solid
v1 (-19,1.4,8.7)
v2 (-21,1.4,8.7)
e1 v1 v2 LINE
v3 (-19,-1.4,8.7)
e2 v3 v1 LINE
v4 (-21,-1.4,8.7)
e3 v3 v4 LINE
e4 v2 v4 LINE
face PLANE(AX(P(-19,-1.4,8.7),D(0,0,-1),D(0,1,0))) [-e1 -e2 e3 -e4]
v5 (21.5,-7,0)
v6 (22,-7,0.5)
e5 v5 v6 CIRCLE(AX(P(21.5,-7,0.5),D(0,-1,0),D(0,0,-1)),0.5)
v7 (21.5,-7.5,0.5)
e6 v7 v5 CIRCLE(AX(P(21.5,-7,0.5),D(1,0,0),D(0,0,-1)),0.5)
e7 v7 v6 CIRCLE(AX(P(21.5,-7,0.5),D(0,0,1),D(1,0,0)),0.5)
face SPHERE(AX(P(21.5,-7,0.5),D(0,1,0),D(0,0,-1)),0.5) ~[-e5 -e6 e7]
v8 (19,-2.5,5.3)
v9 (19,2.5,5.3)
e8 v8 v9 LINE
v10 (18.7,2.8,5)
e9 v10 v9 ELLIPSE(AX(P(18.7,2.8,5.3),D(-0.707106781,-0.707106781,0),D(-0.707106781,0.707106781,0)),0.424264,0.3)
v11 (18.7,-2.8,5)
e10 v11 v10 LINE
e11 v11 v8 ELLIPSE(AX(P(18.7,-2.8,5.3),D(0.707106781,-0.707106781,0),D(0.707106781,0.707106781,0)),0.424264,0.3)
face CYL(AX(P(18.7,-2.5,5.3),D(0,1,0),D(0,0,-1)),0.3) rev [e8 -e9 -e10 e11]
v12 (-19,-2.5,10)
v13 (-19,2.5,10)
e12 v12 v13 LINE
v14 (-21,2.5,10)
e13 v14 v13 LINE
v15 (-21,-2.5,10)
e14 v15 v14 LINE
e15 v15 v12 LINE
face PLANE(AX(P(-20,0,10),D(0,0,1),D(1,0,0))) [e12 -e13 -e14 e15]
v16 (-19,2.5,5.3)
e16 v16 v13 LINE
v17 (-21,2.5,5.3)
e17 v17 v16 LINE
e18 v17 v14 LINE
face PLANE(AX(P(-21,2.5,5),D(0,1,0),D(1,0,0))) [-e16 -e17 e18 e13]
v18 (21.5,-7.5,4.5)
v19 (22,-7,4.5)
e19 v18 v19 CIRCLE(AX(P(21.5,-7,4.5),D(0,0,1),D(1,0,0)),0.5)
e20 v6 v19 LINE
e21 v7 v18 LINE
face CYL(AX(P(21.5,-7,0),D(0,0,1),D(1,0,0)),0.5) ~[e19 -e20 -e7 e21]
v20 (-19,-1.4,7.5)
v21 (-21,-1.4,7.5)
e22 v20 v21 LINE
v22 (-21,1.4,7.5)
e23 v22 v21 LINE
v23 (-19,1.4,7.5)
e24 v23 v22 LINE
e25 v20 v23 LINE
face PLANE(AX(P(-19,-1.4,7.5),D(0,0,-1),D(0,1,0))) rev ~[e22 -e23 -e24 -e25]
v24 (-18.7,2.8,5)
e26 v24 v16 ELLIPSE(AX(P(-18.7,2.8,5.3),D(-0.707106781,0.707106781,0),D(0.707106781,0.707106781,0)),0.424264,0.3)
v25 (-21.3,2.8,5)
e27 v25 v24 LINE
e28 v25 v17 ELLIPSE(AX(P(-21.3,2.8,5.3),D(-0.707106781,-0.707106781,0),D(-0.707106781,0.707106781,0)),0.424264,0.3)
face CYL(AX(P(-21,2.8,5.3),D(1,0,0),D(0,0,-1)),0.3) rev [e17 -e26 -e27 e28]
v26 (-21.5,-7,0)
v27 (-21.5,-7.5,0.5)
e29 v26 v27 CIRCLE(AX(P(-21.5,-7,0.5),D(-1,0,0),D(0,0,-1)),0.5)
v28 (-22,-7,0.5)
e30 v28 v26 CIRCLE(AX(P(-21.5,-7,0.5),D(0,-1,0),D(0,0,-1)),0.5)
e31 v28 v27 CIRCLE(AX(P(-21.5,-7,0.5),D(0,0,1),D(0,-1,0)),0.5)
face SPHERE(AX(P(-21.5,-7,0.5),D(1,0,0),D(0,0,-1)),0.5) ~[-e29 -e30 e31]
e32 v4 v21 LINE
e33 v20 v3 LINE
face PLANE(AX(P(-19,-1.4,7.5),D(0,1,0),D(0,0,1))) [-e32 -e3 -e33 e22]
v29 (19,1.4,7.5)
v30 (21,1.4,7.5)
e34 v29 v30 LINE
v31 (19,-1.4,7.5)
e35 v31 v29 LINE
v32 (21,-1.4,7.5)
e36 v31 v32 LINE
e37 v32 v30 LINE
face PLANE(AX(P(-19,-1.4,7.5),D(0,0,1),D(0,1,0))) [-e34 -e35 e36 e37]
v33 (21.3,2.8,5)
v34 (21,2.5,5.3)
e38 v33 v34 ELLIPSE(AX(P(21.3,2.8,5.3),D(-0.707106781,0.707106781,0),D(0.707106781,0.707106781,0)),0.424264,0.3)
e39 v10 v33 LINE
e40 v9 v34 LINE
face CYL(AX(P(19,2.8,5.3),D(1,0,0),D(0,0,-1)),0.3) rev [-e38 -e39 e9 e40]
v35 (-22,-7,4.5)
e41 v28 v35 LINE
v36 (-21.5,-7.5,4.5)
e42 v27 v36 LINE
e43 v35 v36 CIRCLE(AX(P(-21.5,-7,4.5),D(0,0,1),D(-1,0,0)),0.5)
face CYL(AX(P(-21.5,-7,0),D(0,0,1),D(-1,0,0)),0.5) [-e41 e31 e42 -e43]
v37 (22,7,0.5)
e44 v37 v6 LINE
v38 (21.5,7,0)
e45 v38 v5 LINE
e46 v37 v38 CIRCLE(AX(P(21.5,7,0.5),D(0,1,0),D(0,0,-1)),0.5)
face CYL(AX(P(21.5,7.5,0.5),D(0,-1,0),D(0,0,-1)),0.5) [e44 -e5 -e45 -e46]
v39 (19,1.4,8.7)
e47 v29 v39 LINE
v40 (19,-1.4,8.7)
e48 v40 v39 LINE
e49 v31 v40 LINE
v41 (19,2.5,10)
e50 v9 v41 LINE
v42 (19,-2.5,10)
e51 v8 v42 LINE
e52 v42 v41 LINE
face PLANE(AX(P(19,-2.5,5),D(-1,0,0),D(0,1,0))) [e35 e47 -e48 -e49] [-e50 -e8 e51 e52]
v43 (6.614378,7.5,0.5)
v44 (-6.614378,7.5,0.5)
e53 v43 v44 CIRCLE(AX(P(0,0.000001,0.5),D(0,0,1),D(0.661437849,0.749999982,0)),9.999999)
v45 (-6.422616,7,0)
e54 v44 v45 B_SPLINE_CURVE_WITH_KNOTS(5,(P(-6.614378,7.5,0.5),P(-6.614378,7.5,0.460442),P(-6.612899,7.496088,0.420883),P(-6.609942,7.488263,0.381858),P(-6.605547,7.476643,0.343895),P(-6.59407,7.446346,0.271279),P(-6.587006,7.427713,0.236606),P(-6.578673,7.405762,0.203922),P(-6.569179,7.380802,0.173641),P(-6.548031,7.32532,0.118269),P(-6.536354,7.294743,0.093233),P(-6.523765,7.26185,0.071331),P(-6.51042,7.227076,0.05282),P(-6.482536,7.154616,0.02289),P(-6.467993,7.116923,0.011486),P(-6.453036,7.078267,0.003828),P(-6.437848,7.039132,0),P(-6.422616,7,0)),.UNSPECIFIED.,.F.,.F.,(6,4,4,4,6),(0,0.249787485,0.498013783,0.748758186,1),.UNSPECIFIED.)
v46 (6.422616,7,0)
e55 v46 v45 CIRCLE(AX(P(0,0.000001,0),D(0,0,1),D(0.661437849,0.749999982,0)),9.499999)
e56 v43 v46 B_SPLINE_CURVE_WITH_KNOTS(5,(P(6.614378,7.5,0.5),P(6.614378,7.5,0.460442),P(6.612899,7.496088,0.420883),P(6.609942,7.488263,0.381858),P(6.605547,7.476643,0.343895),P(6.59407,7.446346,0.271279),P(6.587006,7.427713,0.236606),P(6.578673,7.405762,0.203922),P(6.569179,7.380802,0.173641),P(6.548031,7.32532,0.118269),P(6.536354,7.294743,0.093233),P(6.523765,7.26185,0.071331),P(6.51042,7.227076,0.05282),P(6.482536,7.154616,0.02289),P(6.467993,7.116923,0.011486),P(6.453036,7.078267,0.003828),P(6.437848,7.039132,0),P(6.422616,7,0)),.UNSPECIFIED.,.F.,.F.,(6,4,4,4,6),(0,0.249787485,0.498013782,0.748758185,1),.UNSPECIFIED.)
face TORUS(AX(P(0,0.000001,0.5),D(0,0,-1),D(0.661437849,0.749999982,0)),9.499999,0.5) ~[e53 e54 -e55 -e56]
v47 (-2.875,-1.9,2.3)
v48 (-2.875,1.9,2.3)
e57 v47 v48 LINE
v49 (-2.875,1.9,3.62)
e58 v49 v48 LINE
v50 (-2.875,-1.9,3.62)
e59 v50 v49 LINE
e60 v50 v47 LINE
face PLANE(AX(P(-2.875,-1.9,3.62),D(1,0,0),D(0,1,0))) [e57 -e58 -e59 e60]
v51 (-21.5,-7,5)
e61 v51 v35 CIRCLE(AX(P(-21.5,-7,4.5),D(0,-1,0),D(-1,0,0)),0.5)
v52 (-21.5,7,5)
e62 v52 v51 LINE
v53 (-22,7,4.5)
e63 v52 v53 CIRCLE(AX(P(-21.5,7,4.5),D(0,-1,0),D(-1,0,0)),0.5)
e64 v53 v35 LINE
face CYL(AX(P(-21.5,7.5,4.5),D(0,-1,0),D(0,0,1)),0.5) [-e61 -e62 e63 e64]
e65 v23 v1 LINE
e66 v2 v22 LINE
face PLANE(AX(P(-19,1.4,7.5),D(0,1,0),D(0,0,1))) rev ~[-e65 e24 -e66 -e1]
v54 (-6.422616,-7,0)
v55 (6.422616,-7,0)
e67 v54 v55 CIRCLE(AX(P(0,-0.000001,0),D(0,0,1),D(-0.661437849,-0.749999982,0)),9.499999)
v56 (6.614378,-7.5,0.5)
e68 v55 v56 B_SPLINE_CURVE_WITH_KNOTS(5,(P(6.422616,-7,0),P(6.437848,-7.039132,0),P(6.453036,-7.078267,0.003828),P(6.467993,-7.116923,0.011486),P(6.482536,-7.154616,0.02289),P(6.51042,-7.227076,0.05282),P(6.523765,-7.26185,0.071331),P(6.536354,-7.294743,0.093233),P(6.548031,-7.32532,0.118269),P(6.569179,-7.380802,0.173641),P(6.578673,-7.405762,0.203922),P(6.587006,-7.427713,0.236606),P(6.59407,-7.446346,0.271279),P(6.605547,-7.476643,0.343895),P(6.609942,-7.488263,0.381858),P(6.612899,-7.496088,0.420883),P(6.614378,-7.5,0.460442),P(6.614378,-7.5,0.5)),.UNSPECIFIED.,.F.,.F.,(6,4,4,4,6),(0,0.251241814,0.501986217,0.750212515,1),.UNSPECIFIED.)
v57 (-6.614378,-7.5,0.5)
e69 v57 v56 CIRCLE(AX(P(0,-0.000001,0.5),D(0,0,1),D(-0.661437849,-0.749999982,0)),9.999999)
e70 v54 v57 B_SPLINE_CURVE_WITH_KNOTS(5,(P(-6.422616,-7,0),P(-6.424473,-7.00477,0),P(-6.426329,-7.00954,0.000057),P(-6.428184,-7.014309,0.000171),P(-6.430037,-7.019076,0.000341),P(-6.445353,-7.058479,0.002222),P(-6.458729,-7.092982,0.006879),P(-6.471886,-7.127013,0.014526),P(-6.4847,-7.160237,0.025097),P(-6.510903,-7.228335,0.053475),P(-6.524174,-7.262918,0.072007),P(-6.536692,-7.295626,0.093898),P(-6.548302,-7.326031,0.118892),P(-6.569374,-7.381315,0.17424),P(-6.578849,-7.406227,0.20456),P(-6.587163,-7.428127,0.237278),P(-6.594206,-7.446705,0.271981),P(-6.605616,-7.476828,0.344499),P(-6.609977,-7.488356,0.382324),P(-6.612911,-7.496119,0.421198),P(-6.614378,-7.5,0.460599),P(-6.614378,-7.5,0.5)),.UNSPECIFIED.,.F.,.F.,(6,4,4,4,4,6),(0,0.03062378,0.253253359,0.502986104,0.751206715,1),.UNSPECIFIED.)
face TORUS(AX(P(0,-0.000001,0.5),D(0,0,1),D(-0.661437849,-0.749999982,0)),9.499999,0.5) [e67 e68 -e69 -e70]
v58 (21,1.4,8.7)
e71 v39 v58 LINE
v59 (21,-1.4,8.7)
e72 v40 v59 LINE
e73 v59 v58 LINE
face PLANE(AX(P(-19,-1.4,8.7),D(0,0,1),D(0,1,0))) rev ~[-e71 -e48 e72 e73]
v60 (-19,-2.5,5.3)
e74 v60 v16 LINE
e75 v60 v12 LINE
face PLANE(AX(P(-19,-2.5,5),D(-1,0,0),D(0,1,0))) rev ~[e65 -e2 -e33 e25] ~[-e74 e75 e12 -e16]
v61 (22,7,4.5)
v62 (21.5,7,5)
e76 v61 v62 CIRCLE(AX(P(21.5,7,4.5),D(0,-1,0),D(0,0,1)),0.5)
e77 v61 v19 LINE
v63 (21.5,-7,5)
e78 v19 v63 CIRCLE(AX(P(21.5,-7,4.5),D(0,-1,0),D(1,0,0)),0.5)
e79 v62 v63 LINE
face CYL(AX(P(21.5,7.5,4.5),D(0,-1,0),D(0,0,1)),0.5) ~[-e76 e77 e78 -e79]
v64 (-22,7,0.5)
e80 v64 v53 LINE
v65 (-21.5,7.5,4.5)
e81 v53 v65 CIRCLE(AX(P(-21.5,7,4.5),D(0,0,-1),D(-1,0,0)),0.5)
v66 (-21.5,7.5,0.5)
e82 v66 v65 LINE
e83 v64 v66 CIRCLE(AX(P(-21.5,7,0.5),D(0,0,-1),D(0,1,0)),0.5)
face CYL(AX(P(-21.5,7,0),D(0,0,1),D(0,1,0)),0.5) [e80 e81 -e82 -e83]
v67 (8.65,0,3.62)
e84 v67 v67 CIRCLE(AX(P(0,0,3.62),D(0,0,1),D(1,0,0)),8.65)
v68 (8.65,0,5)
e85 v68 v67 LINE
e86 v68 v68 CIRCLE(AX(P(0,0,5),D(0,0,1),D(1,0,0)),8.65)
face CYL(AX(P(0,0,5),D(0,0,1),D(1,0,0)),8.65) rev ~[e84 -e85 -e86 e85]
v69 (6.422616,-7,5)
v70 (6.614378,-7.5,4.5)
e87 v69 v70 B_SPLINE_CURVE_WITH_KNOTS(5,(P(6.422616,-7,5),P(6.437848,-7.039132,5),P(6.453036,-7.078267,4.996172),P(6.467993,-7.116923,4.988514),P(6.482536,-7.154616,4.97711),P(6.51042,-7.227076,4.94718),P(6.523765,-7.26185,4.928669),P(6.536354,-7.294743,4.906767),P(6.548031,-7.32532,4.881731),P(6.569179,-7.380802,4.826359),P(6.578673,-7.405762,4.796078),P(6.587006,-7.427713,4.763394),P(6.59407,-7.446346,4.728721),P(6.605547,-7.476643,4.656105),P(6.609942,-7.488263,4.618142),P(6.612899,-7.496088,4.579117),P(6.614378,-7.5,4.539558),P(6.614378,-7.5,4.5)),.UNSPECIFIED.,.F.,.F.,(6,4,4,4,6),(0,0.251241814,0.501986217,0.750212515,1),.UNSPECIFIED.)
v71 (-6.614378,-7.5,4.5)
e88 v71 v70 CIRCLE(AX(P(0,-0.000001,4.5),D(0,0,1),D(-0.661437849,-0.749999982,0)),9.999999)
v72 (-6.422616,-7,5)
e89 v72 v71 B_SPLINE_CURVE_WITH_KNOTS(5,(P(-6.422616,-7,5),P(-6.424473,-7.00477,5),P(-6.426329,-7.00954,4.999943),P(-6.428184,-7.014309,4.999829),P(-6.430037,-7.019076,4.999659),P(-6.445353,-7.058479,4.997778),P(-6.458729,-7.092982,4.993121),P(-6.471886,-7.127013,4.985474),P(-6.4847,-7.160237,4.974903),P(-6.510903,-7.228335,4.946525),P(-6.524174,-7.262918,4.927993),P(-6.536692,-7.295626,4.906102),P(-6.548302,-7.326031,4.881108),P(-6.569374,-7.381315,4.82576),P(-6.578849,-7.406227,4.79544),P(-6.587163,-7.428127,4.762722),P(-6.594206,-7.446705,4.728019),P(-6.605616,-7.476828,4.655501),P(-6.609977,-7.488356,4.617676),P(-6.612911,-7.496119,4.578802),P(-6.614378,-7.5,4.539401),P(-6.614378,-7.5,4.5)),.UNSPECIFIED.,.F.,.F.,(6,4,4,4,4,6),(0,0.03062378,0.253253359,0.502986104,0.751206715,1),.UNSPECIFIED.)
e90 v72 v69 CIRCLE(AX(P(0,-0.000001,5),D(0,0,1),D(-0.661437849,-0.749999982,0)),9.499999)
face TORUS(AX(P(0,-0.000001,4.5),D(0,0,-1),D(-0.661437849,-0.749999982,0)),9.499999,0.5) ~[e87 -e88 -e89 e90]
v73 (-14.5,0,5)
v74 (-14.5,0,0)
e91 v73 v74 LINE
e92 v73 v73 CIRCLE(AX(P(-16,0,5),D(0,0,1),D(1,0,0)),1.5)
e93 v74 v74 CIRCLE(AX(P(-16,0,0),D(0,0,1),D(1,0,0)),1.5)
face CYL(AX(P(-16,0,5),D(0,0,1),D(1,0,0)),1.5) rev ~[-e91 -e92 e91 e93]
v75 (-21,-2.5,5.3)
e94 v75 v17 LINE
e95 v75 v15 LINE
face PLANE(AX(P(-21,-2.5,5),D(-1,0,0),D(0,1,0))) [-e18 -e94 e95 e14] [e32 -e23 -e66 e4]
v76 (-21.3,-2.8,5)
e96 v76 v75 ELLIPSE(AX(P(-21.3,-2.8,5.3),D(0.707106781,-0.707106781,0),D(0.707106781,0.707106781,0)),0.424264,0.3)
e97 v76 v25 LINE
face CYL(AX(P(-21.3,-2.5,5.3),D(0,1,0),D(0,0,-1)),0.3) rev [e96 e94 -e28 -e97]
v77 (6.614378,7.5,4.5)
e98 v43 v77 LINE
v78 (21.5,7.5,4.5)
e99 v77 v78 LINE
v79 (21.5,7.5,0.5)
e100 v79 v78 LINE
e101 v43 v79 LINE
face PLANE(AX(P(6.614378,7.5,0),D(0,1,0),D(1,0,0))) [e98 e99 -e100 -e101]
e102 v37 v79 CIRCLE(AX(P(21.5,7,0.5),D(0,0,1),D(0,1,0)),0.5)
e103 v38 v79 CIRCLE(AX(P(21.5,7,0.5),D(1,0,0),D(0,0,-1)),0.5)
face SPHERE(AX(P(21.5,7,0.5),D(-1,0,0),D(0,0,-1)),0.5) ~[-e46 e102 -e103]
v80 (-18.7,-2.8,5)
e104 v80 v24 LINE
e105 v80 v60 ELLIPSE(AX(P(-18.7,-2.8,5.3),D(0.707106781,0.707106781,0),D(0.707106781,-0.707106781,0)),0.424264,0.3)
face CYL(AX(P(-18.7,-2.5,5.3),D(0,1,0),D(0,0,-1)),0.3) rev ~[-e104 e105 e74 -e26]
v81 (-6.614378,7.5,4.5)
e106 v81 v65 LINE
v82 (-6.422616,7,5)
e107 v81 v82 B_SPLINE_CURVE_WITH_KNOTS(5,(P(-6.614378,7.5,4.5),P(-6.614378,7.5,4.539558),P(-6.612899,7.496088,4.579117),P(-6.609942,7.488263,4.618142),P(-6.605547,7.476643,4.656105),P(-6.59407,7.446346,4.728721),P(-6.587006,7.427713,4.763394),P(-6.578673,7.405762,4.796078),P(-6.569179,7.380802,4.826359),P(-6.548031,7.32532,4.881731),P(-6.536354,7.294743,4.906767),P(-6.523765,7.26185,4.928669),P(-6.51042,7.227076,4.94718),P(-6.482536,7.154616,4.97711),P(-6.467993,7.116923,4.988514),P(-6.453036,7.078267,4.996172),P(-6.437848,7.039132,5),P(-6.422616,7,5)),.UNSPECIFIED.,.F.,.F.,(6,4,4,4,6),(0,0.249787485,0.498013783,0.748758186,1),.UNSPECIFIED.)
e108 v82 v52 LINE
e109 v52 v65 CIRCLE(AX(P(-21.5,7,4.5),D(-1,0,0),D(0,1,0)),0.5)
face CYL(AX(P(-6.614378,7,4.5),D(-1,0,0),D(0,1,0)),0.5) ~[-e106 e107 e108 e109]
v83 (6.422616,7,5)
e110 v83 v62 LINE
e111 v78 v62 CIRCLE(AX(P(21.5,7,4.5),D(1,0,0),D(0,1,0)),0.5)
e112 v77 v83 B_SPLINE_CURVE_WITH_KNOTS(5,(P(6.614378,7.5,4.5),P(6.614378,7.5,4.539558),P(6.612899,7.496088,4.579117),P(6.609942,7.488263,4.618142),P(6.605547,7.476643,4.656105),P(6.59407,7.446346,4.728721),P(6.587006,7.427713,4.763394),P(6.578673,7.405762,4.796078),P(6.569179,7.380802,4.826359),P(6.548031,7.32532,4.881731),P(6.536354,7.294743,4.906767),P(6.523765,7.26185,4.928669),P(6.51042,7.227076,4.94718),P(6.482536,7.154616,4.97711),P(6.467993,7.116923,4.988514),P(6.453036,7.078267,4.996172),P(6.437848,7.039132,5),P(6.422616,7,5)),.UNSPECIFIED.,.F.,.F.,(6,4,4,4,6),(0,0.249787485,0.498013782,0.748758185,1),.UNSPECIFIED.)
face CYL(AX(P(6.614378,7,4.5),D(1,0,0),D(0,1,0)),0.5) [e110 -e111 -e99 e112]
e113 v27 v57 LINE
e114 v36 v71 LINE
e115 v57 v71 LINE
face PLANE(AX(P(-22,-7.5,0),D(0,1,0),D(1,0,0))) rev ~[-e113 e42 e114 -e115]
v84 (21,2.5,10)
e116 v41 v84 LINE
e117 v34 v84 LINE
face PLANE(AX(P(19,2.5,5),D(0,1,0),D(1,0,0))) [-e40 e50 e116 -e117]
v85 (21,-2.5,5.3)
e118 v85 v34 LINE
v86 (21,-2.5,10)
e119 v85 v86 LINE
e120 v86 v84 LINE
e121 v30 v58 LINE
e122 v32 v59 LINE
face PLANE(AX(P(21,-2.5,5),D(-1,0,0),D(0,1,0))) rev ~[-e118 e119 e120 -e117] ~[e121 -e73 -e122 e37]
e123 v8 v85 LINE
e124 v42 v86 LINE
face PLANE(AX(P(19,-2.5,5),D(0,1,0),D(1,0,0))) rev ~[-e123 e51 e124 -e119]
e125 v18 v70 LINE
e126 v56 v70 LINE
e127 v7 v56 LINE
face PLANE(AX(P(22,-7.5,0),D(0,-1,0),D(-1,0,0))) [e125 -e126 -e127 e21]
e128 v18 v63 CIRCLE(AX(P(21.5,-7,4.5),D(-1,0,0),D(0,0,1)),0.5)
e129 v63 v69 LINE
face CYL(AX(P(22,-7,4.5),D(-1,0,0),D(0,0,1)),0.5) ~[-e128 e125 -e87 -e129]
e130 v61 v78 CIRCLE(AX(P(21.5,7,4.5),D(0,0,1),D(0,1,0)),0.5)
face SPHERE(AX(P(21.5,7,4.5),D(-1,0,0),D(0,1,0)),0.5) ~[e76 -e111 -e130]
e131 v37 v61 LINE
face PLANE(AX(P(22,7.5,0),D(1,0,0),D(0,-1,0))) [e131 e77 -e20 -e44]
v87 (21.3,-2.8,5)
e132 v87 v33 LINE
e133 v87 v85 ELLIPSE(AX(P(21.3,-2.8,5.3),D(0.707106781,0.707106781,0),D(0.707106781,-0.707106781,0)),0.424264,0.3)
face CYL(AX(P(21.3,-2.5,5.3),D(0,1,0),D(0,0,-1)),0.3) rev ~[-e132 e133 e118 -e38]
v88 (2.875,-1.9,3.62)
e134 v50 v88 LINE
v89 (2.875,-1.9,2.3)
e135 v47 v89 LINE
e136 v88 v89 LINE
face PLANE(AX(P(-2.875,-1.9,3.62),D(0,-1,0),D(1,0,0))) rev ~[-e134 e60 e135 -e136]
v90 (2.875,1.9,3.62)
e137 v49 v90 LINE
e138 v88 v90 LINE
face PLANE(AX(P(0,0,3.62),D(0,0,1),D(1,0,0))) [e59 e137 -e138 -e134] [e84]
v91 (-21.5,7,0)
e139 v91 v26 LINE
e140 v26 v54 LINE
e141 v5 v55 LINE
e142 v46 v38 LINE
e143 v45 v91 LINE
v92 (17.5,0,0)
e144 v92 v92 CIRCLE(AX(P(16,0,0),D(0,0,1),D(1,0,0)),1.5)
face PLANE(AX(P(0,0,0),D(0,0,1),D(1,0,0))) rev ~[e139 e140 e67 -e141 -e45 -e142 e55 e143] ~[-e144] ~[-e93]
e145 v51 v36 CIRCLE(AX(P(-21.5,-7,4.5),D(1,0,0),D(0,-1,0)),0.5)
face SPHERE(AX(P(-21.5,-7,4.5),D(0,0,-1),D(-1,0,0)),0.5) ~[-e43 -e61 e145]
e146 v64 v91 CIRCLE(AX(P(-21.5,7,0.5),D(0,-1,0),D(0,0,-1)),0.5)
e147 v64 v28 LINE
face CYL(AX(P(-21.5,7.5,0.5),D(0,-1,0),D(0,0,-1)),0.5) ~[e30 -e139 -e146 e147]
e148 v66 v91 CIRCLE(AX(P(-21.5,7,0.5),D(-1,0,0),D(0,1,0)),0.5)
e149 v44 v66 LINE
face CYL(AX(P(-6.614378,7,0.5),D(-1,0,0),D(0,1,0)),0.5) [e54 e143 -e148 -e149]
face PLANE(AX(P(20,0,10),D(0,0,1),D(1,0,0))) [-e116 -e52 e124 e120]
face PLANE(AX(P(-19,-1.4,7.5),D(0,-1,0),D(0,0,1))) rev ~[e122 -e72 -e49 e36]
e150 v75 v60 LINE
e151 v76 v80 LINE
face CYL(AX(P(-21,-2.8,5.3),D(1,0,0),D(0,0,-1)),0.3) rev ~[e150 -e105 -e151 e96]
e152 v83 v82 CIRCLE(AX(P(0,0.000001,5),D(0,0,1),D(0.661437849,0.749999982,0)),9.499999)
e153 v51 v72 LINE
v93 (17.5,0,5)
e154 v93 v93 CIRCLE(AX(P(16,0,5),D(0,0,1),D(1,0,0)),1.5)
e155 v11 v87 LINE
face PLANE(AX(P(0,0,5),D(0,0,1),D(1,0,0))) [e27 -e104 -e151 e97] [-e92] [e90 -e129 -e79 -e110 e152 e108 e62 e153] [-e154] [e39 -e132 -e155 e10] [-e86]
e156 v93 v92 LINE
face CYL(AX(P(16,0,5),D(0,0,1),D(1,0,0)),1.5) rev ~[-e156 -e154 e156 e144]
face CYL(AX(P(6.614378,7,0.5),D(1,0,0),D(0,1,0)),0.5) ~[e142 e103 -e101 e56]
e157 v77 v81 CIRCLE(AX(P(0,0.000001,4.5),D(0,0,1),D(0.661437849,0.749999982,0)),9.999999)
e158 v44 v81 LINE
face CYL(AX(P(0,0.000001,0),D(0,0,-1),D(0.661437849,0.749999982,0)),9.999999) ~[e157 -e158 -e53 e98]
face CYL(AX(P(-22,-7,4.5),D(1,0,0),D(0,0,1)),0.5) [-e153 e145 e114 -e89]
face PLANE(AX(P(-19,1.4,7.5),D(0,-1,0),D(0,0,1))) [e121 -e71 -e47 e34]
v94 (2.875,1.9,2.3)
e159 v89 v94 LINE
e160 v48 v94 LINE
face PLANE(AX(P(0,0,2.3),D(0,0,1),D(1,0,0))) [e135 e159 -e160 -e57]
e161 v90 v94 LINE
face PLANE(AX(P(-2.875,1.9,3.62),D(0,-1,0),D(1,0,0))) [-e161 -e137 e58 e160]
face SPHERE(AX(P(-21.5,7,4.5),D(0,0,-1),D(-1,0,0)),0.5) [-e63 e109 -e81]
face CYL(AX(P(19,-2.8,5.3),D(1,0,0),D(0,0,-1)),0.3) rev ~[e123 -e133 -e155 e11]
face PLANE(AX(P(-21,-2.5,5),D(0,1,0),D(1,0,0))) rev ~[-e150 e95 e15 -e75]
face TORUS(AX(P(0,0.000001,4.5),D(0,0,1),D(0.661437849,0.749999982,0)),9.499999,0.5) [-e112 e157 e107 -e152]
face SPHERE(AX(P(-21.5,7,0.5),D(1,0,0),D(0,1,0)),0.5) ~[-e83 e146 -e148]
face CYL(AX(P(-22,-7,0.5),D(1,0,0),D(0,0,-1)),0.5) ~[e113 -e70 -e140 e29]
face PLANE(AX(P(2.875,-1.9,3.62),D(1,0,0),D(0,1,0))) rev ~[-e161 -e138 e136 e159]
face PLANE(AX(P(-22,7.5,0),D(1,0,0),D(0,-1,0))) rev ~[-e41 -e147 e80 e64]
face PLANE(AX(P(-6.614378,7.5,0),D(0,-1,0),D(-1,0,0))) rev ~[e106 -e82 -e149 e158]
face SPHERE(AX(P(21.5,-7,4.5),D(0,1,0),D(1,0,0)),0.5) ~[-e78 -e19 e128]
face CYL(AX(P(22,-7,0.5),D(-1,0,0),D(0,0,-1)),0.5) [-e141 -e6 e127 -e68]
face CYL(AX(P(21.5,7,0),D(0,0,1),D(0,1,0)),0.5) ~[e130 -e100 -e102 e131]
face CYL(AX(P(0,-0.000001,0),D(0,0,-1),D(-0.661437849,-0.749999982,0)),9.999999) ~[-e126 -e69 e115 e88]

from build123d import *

# Parameters (mm, degrees)
PAD_DEPTH            = 5
SKETCH001_R          = 8.65
POCKET_DEPTH         = 1.38
SKETCH002_W          = 5.75
SKETCH002_H          = 3.8
POCKET001_DEPTH      = 1.32
SKETCH003_R          = 1.5
POCKET002_DEPTH      = 5.001
FILLET_R             = 0.5
SKETCH004_W          = 2
SKETCH004_H          = 5
PAD001_DEPTH         = 5
FILLET001_R          = 0.3
SKETCH005_W          = 2.8
SKETCH005_H          = 1.2
POCKET003_DEPTH      = 3.001
POCKET003_DEPTH_BACK = -41.001


with BuildPart() as part:
    # Sketch → Pad (new body)
    with BuildSketch(Plane.XY):
        with BuildLine():
            ThreePointArc((6.614378, 7.5), (0, 10), (-6.614378, 7.5))
            Line((-6.614378, 7.5), (-22, 7.5))
            Line((-22, 7.5), (-22, -7.5))
            Line((-22, -7.5), (-6.614378, -7.5))
            ThreePointArc((-6.614378, -7.5), (0, -10), (6.614378, -7.5))
            Line((22, -7.5), (6.614378, -7.5))
            Line((22, 7.5), (22, -7.5))
            Line((6.614378, 7.5), (22, 7.5))
        make_face()
    extrude(amount=PAD_DEPTH)

    # Sketch001 → Pocket (cut)
    with BuildSketch(Plane.XY.offset(5)):
        Circle(SKETCH001_R)
    extrude(amount=-POCKET_DEPTH, mode=Mode.SUBTRACT)

    # Sketch002 → Pocket001 (cut)
    with BuildSketch(Plane.XY.offset(3.62)):
        Rectangle(SKETCH002_W, SKETCH002_H)
    extrude(amount=-POCKET001_DEPTH, mode=Mode.SUBTRACT)

    # Sketch003 → Pocket002 (cut, through all)
    with BuildSketch(Plane.XY.offset(5)):
        with Locations((-16, 0)):
            Circle(SKETCH003_R)
        with Locations((16, 0)):
            Circle(SKETCH003_R)
    extrude(amount=-POCKET002_DEPTH, mode=Mode.SUBTRACT)

    # Fillet
    fillet_edges = [part.edges().sort_by_distance(p)[0] for p in [
        (-14.307189, 7.5, 0),
        (0, 10, 0),
        (14.307189, 7.5, 0),
        (22, 0, 0),
        (14.307189, -7.5, 0),
        (0, -10, 0),
        (-14.307189, -7.5, 0),
        (-22, 7.5, 2.5),
        (-22, 0, 0),
        (-22, -7.5, 2.5),
        (-22, 0, 5),
        (-14.307189, 7.5, 5),
        (0, 10, 5),
        (14.307189, 7.5, 5),
        (22, 7.5, 2.5),
        (22, 0, 5),
        (22, -7.5, 2.5),
        (14.307189, -7.5, 5),
        (0, -10, 5),
        (-14.307189, -7.5, 5),
    ]]
    fillet(fillet_edges, radius=FILLET_R)

    # Sketch004 → Pad001 (new body)
    with BuildSketch(Plane.XY.offset(5)):
        with Locations((-20, 0)):
            Rectangle(SKETCH004_W, SKETCH004_H)
        with Locations((20, 0)):
            Rectangle(SKETCH004_W, SKETCH004_H)
    extrude(amount=PAD001_DEPTH)

    # Fillet001
    fillet001_edges = [part.edges().sort_by_distance(p)[0] for p in [
        (-21, 0, 5),
        (-20, -2.5, 5),
        (20, -2.5, 5),
        (19, 0, 5),
        (-20, 2.5, 5),
        (-19, 0, 5),
        (20, 2.5, 5),
        (21, 0, 5),
    ]]
    fillet(fillet001_edges, radius=FILLET001_R)

    # Sketch005 → Pocket003 (cut, two sides)
    with BuildSketch(Plane.YZ.offset(-19)) as pocket003_sk:
        with Locations((0, 8.1)):
            Rectangle(SKETCH005_W, SKETCH005_H)
    extrude(amount=-POCKET003_DEPTH, mode=Mode.SUBTRACT)
    extrude(pocket003_sk.sketch, amount=-POCKET003_DEPTH_BACK, mode=Mode.SUBTRACT)


solid = part.part
